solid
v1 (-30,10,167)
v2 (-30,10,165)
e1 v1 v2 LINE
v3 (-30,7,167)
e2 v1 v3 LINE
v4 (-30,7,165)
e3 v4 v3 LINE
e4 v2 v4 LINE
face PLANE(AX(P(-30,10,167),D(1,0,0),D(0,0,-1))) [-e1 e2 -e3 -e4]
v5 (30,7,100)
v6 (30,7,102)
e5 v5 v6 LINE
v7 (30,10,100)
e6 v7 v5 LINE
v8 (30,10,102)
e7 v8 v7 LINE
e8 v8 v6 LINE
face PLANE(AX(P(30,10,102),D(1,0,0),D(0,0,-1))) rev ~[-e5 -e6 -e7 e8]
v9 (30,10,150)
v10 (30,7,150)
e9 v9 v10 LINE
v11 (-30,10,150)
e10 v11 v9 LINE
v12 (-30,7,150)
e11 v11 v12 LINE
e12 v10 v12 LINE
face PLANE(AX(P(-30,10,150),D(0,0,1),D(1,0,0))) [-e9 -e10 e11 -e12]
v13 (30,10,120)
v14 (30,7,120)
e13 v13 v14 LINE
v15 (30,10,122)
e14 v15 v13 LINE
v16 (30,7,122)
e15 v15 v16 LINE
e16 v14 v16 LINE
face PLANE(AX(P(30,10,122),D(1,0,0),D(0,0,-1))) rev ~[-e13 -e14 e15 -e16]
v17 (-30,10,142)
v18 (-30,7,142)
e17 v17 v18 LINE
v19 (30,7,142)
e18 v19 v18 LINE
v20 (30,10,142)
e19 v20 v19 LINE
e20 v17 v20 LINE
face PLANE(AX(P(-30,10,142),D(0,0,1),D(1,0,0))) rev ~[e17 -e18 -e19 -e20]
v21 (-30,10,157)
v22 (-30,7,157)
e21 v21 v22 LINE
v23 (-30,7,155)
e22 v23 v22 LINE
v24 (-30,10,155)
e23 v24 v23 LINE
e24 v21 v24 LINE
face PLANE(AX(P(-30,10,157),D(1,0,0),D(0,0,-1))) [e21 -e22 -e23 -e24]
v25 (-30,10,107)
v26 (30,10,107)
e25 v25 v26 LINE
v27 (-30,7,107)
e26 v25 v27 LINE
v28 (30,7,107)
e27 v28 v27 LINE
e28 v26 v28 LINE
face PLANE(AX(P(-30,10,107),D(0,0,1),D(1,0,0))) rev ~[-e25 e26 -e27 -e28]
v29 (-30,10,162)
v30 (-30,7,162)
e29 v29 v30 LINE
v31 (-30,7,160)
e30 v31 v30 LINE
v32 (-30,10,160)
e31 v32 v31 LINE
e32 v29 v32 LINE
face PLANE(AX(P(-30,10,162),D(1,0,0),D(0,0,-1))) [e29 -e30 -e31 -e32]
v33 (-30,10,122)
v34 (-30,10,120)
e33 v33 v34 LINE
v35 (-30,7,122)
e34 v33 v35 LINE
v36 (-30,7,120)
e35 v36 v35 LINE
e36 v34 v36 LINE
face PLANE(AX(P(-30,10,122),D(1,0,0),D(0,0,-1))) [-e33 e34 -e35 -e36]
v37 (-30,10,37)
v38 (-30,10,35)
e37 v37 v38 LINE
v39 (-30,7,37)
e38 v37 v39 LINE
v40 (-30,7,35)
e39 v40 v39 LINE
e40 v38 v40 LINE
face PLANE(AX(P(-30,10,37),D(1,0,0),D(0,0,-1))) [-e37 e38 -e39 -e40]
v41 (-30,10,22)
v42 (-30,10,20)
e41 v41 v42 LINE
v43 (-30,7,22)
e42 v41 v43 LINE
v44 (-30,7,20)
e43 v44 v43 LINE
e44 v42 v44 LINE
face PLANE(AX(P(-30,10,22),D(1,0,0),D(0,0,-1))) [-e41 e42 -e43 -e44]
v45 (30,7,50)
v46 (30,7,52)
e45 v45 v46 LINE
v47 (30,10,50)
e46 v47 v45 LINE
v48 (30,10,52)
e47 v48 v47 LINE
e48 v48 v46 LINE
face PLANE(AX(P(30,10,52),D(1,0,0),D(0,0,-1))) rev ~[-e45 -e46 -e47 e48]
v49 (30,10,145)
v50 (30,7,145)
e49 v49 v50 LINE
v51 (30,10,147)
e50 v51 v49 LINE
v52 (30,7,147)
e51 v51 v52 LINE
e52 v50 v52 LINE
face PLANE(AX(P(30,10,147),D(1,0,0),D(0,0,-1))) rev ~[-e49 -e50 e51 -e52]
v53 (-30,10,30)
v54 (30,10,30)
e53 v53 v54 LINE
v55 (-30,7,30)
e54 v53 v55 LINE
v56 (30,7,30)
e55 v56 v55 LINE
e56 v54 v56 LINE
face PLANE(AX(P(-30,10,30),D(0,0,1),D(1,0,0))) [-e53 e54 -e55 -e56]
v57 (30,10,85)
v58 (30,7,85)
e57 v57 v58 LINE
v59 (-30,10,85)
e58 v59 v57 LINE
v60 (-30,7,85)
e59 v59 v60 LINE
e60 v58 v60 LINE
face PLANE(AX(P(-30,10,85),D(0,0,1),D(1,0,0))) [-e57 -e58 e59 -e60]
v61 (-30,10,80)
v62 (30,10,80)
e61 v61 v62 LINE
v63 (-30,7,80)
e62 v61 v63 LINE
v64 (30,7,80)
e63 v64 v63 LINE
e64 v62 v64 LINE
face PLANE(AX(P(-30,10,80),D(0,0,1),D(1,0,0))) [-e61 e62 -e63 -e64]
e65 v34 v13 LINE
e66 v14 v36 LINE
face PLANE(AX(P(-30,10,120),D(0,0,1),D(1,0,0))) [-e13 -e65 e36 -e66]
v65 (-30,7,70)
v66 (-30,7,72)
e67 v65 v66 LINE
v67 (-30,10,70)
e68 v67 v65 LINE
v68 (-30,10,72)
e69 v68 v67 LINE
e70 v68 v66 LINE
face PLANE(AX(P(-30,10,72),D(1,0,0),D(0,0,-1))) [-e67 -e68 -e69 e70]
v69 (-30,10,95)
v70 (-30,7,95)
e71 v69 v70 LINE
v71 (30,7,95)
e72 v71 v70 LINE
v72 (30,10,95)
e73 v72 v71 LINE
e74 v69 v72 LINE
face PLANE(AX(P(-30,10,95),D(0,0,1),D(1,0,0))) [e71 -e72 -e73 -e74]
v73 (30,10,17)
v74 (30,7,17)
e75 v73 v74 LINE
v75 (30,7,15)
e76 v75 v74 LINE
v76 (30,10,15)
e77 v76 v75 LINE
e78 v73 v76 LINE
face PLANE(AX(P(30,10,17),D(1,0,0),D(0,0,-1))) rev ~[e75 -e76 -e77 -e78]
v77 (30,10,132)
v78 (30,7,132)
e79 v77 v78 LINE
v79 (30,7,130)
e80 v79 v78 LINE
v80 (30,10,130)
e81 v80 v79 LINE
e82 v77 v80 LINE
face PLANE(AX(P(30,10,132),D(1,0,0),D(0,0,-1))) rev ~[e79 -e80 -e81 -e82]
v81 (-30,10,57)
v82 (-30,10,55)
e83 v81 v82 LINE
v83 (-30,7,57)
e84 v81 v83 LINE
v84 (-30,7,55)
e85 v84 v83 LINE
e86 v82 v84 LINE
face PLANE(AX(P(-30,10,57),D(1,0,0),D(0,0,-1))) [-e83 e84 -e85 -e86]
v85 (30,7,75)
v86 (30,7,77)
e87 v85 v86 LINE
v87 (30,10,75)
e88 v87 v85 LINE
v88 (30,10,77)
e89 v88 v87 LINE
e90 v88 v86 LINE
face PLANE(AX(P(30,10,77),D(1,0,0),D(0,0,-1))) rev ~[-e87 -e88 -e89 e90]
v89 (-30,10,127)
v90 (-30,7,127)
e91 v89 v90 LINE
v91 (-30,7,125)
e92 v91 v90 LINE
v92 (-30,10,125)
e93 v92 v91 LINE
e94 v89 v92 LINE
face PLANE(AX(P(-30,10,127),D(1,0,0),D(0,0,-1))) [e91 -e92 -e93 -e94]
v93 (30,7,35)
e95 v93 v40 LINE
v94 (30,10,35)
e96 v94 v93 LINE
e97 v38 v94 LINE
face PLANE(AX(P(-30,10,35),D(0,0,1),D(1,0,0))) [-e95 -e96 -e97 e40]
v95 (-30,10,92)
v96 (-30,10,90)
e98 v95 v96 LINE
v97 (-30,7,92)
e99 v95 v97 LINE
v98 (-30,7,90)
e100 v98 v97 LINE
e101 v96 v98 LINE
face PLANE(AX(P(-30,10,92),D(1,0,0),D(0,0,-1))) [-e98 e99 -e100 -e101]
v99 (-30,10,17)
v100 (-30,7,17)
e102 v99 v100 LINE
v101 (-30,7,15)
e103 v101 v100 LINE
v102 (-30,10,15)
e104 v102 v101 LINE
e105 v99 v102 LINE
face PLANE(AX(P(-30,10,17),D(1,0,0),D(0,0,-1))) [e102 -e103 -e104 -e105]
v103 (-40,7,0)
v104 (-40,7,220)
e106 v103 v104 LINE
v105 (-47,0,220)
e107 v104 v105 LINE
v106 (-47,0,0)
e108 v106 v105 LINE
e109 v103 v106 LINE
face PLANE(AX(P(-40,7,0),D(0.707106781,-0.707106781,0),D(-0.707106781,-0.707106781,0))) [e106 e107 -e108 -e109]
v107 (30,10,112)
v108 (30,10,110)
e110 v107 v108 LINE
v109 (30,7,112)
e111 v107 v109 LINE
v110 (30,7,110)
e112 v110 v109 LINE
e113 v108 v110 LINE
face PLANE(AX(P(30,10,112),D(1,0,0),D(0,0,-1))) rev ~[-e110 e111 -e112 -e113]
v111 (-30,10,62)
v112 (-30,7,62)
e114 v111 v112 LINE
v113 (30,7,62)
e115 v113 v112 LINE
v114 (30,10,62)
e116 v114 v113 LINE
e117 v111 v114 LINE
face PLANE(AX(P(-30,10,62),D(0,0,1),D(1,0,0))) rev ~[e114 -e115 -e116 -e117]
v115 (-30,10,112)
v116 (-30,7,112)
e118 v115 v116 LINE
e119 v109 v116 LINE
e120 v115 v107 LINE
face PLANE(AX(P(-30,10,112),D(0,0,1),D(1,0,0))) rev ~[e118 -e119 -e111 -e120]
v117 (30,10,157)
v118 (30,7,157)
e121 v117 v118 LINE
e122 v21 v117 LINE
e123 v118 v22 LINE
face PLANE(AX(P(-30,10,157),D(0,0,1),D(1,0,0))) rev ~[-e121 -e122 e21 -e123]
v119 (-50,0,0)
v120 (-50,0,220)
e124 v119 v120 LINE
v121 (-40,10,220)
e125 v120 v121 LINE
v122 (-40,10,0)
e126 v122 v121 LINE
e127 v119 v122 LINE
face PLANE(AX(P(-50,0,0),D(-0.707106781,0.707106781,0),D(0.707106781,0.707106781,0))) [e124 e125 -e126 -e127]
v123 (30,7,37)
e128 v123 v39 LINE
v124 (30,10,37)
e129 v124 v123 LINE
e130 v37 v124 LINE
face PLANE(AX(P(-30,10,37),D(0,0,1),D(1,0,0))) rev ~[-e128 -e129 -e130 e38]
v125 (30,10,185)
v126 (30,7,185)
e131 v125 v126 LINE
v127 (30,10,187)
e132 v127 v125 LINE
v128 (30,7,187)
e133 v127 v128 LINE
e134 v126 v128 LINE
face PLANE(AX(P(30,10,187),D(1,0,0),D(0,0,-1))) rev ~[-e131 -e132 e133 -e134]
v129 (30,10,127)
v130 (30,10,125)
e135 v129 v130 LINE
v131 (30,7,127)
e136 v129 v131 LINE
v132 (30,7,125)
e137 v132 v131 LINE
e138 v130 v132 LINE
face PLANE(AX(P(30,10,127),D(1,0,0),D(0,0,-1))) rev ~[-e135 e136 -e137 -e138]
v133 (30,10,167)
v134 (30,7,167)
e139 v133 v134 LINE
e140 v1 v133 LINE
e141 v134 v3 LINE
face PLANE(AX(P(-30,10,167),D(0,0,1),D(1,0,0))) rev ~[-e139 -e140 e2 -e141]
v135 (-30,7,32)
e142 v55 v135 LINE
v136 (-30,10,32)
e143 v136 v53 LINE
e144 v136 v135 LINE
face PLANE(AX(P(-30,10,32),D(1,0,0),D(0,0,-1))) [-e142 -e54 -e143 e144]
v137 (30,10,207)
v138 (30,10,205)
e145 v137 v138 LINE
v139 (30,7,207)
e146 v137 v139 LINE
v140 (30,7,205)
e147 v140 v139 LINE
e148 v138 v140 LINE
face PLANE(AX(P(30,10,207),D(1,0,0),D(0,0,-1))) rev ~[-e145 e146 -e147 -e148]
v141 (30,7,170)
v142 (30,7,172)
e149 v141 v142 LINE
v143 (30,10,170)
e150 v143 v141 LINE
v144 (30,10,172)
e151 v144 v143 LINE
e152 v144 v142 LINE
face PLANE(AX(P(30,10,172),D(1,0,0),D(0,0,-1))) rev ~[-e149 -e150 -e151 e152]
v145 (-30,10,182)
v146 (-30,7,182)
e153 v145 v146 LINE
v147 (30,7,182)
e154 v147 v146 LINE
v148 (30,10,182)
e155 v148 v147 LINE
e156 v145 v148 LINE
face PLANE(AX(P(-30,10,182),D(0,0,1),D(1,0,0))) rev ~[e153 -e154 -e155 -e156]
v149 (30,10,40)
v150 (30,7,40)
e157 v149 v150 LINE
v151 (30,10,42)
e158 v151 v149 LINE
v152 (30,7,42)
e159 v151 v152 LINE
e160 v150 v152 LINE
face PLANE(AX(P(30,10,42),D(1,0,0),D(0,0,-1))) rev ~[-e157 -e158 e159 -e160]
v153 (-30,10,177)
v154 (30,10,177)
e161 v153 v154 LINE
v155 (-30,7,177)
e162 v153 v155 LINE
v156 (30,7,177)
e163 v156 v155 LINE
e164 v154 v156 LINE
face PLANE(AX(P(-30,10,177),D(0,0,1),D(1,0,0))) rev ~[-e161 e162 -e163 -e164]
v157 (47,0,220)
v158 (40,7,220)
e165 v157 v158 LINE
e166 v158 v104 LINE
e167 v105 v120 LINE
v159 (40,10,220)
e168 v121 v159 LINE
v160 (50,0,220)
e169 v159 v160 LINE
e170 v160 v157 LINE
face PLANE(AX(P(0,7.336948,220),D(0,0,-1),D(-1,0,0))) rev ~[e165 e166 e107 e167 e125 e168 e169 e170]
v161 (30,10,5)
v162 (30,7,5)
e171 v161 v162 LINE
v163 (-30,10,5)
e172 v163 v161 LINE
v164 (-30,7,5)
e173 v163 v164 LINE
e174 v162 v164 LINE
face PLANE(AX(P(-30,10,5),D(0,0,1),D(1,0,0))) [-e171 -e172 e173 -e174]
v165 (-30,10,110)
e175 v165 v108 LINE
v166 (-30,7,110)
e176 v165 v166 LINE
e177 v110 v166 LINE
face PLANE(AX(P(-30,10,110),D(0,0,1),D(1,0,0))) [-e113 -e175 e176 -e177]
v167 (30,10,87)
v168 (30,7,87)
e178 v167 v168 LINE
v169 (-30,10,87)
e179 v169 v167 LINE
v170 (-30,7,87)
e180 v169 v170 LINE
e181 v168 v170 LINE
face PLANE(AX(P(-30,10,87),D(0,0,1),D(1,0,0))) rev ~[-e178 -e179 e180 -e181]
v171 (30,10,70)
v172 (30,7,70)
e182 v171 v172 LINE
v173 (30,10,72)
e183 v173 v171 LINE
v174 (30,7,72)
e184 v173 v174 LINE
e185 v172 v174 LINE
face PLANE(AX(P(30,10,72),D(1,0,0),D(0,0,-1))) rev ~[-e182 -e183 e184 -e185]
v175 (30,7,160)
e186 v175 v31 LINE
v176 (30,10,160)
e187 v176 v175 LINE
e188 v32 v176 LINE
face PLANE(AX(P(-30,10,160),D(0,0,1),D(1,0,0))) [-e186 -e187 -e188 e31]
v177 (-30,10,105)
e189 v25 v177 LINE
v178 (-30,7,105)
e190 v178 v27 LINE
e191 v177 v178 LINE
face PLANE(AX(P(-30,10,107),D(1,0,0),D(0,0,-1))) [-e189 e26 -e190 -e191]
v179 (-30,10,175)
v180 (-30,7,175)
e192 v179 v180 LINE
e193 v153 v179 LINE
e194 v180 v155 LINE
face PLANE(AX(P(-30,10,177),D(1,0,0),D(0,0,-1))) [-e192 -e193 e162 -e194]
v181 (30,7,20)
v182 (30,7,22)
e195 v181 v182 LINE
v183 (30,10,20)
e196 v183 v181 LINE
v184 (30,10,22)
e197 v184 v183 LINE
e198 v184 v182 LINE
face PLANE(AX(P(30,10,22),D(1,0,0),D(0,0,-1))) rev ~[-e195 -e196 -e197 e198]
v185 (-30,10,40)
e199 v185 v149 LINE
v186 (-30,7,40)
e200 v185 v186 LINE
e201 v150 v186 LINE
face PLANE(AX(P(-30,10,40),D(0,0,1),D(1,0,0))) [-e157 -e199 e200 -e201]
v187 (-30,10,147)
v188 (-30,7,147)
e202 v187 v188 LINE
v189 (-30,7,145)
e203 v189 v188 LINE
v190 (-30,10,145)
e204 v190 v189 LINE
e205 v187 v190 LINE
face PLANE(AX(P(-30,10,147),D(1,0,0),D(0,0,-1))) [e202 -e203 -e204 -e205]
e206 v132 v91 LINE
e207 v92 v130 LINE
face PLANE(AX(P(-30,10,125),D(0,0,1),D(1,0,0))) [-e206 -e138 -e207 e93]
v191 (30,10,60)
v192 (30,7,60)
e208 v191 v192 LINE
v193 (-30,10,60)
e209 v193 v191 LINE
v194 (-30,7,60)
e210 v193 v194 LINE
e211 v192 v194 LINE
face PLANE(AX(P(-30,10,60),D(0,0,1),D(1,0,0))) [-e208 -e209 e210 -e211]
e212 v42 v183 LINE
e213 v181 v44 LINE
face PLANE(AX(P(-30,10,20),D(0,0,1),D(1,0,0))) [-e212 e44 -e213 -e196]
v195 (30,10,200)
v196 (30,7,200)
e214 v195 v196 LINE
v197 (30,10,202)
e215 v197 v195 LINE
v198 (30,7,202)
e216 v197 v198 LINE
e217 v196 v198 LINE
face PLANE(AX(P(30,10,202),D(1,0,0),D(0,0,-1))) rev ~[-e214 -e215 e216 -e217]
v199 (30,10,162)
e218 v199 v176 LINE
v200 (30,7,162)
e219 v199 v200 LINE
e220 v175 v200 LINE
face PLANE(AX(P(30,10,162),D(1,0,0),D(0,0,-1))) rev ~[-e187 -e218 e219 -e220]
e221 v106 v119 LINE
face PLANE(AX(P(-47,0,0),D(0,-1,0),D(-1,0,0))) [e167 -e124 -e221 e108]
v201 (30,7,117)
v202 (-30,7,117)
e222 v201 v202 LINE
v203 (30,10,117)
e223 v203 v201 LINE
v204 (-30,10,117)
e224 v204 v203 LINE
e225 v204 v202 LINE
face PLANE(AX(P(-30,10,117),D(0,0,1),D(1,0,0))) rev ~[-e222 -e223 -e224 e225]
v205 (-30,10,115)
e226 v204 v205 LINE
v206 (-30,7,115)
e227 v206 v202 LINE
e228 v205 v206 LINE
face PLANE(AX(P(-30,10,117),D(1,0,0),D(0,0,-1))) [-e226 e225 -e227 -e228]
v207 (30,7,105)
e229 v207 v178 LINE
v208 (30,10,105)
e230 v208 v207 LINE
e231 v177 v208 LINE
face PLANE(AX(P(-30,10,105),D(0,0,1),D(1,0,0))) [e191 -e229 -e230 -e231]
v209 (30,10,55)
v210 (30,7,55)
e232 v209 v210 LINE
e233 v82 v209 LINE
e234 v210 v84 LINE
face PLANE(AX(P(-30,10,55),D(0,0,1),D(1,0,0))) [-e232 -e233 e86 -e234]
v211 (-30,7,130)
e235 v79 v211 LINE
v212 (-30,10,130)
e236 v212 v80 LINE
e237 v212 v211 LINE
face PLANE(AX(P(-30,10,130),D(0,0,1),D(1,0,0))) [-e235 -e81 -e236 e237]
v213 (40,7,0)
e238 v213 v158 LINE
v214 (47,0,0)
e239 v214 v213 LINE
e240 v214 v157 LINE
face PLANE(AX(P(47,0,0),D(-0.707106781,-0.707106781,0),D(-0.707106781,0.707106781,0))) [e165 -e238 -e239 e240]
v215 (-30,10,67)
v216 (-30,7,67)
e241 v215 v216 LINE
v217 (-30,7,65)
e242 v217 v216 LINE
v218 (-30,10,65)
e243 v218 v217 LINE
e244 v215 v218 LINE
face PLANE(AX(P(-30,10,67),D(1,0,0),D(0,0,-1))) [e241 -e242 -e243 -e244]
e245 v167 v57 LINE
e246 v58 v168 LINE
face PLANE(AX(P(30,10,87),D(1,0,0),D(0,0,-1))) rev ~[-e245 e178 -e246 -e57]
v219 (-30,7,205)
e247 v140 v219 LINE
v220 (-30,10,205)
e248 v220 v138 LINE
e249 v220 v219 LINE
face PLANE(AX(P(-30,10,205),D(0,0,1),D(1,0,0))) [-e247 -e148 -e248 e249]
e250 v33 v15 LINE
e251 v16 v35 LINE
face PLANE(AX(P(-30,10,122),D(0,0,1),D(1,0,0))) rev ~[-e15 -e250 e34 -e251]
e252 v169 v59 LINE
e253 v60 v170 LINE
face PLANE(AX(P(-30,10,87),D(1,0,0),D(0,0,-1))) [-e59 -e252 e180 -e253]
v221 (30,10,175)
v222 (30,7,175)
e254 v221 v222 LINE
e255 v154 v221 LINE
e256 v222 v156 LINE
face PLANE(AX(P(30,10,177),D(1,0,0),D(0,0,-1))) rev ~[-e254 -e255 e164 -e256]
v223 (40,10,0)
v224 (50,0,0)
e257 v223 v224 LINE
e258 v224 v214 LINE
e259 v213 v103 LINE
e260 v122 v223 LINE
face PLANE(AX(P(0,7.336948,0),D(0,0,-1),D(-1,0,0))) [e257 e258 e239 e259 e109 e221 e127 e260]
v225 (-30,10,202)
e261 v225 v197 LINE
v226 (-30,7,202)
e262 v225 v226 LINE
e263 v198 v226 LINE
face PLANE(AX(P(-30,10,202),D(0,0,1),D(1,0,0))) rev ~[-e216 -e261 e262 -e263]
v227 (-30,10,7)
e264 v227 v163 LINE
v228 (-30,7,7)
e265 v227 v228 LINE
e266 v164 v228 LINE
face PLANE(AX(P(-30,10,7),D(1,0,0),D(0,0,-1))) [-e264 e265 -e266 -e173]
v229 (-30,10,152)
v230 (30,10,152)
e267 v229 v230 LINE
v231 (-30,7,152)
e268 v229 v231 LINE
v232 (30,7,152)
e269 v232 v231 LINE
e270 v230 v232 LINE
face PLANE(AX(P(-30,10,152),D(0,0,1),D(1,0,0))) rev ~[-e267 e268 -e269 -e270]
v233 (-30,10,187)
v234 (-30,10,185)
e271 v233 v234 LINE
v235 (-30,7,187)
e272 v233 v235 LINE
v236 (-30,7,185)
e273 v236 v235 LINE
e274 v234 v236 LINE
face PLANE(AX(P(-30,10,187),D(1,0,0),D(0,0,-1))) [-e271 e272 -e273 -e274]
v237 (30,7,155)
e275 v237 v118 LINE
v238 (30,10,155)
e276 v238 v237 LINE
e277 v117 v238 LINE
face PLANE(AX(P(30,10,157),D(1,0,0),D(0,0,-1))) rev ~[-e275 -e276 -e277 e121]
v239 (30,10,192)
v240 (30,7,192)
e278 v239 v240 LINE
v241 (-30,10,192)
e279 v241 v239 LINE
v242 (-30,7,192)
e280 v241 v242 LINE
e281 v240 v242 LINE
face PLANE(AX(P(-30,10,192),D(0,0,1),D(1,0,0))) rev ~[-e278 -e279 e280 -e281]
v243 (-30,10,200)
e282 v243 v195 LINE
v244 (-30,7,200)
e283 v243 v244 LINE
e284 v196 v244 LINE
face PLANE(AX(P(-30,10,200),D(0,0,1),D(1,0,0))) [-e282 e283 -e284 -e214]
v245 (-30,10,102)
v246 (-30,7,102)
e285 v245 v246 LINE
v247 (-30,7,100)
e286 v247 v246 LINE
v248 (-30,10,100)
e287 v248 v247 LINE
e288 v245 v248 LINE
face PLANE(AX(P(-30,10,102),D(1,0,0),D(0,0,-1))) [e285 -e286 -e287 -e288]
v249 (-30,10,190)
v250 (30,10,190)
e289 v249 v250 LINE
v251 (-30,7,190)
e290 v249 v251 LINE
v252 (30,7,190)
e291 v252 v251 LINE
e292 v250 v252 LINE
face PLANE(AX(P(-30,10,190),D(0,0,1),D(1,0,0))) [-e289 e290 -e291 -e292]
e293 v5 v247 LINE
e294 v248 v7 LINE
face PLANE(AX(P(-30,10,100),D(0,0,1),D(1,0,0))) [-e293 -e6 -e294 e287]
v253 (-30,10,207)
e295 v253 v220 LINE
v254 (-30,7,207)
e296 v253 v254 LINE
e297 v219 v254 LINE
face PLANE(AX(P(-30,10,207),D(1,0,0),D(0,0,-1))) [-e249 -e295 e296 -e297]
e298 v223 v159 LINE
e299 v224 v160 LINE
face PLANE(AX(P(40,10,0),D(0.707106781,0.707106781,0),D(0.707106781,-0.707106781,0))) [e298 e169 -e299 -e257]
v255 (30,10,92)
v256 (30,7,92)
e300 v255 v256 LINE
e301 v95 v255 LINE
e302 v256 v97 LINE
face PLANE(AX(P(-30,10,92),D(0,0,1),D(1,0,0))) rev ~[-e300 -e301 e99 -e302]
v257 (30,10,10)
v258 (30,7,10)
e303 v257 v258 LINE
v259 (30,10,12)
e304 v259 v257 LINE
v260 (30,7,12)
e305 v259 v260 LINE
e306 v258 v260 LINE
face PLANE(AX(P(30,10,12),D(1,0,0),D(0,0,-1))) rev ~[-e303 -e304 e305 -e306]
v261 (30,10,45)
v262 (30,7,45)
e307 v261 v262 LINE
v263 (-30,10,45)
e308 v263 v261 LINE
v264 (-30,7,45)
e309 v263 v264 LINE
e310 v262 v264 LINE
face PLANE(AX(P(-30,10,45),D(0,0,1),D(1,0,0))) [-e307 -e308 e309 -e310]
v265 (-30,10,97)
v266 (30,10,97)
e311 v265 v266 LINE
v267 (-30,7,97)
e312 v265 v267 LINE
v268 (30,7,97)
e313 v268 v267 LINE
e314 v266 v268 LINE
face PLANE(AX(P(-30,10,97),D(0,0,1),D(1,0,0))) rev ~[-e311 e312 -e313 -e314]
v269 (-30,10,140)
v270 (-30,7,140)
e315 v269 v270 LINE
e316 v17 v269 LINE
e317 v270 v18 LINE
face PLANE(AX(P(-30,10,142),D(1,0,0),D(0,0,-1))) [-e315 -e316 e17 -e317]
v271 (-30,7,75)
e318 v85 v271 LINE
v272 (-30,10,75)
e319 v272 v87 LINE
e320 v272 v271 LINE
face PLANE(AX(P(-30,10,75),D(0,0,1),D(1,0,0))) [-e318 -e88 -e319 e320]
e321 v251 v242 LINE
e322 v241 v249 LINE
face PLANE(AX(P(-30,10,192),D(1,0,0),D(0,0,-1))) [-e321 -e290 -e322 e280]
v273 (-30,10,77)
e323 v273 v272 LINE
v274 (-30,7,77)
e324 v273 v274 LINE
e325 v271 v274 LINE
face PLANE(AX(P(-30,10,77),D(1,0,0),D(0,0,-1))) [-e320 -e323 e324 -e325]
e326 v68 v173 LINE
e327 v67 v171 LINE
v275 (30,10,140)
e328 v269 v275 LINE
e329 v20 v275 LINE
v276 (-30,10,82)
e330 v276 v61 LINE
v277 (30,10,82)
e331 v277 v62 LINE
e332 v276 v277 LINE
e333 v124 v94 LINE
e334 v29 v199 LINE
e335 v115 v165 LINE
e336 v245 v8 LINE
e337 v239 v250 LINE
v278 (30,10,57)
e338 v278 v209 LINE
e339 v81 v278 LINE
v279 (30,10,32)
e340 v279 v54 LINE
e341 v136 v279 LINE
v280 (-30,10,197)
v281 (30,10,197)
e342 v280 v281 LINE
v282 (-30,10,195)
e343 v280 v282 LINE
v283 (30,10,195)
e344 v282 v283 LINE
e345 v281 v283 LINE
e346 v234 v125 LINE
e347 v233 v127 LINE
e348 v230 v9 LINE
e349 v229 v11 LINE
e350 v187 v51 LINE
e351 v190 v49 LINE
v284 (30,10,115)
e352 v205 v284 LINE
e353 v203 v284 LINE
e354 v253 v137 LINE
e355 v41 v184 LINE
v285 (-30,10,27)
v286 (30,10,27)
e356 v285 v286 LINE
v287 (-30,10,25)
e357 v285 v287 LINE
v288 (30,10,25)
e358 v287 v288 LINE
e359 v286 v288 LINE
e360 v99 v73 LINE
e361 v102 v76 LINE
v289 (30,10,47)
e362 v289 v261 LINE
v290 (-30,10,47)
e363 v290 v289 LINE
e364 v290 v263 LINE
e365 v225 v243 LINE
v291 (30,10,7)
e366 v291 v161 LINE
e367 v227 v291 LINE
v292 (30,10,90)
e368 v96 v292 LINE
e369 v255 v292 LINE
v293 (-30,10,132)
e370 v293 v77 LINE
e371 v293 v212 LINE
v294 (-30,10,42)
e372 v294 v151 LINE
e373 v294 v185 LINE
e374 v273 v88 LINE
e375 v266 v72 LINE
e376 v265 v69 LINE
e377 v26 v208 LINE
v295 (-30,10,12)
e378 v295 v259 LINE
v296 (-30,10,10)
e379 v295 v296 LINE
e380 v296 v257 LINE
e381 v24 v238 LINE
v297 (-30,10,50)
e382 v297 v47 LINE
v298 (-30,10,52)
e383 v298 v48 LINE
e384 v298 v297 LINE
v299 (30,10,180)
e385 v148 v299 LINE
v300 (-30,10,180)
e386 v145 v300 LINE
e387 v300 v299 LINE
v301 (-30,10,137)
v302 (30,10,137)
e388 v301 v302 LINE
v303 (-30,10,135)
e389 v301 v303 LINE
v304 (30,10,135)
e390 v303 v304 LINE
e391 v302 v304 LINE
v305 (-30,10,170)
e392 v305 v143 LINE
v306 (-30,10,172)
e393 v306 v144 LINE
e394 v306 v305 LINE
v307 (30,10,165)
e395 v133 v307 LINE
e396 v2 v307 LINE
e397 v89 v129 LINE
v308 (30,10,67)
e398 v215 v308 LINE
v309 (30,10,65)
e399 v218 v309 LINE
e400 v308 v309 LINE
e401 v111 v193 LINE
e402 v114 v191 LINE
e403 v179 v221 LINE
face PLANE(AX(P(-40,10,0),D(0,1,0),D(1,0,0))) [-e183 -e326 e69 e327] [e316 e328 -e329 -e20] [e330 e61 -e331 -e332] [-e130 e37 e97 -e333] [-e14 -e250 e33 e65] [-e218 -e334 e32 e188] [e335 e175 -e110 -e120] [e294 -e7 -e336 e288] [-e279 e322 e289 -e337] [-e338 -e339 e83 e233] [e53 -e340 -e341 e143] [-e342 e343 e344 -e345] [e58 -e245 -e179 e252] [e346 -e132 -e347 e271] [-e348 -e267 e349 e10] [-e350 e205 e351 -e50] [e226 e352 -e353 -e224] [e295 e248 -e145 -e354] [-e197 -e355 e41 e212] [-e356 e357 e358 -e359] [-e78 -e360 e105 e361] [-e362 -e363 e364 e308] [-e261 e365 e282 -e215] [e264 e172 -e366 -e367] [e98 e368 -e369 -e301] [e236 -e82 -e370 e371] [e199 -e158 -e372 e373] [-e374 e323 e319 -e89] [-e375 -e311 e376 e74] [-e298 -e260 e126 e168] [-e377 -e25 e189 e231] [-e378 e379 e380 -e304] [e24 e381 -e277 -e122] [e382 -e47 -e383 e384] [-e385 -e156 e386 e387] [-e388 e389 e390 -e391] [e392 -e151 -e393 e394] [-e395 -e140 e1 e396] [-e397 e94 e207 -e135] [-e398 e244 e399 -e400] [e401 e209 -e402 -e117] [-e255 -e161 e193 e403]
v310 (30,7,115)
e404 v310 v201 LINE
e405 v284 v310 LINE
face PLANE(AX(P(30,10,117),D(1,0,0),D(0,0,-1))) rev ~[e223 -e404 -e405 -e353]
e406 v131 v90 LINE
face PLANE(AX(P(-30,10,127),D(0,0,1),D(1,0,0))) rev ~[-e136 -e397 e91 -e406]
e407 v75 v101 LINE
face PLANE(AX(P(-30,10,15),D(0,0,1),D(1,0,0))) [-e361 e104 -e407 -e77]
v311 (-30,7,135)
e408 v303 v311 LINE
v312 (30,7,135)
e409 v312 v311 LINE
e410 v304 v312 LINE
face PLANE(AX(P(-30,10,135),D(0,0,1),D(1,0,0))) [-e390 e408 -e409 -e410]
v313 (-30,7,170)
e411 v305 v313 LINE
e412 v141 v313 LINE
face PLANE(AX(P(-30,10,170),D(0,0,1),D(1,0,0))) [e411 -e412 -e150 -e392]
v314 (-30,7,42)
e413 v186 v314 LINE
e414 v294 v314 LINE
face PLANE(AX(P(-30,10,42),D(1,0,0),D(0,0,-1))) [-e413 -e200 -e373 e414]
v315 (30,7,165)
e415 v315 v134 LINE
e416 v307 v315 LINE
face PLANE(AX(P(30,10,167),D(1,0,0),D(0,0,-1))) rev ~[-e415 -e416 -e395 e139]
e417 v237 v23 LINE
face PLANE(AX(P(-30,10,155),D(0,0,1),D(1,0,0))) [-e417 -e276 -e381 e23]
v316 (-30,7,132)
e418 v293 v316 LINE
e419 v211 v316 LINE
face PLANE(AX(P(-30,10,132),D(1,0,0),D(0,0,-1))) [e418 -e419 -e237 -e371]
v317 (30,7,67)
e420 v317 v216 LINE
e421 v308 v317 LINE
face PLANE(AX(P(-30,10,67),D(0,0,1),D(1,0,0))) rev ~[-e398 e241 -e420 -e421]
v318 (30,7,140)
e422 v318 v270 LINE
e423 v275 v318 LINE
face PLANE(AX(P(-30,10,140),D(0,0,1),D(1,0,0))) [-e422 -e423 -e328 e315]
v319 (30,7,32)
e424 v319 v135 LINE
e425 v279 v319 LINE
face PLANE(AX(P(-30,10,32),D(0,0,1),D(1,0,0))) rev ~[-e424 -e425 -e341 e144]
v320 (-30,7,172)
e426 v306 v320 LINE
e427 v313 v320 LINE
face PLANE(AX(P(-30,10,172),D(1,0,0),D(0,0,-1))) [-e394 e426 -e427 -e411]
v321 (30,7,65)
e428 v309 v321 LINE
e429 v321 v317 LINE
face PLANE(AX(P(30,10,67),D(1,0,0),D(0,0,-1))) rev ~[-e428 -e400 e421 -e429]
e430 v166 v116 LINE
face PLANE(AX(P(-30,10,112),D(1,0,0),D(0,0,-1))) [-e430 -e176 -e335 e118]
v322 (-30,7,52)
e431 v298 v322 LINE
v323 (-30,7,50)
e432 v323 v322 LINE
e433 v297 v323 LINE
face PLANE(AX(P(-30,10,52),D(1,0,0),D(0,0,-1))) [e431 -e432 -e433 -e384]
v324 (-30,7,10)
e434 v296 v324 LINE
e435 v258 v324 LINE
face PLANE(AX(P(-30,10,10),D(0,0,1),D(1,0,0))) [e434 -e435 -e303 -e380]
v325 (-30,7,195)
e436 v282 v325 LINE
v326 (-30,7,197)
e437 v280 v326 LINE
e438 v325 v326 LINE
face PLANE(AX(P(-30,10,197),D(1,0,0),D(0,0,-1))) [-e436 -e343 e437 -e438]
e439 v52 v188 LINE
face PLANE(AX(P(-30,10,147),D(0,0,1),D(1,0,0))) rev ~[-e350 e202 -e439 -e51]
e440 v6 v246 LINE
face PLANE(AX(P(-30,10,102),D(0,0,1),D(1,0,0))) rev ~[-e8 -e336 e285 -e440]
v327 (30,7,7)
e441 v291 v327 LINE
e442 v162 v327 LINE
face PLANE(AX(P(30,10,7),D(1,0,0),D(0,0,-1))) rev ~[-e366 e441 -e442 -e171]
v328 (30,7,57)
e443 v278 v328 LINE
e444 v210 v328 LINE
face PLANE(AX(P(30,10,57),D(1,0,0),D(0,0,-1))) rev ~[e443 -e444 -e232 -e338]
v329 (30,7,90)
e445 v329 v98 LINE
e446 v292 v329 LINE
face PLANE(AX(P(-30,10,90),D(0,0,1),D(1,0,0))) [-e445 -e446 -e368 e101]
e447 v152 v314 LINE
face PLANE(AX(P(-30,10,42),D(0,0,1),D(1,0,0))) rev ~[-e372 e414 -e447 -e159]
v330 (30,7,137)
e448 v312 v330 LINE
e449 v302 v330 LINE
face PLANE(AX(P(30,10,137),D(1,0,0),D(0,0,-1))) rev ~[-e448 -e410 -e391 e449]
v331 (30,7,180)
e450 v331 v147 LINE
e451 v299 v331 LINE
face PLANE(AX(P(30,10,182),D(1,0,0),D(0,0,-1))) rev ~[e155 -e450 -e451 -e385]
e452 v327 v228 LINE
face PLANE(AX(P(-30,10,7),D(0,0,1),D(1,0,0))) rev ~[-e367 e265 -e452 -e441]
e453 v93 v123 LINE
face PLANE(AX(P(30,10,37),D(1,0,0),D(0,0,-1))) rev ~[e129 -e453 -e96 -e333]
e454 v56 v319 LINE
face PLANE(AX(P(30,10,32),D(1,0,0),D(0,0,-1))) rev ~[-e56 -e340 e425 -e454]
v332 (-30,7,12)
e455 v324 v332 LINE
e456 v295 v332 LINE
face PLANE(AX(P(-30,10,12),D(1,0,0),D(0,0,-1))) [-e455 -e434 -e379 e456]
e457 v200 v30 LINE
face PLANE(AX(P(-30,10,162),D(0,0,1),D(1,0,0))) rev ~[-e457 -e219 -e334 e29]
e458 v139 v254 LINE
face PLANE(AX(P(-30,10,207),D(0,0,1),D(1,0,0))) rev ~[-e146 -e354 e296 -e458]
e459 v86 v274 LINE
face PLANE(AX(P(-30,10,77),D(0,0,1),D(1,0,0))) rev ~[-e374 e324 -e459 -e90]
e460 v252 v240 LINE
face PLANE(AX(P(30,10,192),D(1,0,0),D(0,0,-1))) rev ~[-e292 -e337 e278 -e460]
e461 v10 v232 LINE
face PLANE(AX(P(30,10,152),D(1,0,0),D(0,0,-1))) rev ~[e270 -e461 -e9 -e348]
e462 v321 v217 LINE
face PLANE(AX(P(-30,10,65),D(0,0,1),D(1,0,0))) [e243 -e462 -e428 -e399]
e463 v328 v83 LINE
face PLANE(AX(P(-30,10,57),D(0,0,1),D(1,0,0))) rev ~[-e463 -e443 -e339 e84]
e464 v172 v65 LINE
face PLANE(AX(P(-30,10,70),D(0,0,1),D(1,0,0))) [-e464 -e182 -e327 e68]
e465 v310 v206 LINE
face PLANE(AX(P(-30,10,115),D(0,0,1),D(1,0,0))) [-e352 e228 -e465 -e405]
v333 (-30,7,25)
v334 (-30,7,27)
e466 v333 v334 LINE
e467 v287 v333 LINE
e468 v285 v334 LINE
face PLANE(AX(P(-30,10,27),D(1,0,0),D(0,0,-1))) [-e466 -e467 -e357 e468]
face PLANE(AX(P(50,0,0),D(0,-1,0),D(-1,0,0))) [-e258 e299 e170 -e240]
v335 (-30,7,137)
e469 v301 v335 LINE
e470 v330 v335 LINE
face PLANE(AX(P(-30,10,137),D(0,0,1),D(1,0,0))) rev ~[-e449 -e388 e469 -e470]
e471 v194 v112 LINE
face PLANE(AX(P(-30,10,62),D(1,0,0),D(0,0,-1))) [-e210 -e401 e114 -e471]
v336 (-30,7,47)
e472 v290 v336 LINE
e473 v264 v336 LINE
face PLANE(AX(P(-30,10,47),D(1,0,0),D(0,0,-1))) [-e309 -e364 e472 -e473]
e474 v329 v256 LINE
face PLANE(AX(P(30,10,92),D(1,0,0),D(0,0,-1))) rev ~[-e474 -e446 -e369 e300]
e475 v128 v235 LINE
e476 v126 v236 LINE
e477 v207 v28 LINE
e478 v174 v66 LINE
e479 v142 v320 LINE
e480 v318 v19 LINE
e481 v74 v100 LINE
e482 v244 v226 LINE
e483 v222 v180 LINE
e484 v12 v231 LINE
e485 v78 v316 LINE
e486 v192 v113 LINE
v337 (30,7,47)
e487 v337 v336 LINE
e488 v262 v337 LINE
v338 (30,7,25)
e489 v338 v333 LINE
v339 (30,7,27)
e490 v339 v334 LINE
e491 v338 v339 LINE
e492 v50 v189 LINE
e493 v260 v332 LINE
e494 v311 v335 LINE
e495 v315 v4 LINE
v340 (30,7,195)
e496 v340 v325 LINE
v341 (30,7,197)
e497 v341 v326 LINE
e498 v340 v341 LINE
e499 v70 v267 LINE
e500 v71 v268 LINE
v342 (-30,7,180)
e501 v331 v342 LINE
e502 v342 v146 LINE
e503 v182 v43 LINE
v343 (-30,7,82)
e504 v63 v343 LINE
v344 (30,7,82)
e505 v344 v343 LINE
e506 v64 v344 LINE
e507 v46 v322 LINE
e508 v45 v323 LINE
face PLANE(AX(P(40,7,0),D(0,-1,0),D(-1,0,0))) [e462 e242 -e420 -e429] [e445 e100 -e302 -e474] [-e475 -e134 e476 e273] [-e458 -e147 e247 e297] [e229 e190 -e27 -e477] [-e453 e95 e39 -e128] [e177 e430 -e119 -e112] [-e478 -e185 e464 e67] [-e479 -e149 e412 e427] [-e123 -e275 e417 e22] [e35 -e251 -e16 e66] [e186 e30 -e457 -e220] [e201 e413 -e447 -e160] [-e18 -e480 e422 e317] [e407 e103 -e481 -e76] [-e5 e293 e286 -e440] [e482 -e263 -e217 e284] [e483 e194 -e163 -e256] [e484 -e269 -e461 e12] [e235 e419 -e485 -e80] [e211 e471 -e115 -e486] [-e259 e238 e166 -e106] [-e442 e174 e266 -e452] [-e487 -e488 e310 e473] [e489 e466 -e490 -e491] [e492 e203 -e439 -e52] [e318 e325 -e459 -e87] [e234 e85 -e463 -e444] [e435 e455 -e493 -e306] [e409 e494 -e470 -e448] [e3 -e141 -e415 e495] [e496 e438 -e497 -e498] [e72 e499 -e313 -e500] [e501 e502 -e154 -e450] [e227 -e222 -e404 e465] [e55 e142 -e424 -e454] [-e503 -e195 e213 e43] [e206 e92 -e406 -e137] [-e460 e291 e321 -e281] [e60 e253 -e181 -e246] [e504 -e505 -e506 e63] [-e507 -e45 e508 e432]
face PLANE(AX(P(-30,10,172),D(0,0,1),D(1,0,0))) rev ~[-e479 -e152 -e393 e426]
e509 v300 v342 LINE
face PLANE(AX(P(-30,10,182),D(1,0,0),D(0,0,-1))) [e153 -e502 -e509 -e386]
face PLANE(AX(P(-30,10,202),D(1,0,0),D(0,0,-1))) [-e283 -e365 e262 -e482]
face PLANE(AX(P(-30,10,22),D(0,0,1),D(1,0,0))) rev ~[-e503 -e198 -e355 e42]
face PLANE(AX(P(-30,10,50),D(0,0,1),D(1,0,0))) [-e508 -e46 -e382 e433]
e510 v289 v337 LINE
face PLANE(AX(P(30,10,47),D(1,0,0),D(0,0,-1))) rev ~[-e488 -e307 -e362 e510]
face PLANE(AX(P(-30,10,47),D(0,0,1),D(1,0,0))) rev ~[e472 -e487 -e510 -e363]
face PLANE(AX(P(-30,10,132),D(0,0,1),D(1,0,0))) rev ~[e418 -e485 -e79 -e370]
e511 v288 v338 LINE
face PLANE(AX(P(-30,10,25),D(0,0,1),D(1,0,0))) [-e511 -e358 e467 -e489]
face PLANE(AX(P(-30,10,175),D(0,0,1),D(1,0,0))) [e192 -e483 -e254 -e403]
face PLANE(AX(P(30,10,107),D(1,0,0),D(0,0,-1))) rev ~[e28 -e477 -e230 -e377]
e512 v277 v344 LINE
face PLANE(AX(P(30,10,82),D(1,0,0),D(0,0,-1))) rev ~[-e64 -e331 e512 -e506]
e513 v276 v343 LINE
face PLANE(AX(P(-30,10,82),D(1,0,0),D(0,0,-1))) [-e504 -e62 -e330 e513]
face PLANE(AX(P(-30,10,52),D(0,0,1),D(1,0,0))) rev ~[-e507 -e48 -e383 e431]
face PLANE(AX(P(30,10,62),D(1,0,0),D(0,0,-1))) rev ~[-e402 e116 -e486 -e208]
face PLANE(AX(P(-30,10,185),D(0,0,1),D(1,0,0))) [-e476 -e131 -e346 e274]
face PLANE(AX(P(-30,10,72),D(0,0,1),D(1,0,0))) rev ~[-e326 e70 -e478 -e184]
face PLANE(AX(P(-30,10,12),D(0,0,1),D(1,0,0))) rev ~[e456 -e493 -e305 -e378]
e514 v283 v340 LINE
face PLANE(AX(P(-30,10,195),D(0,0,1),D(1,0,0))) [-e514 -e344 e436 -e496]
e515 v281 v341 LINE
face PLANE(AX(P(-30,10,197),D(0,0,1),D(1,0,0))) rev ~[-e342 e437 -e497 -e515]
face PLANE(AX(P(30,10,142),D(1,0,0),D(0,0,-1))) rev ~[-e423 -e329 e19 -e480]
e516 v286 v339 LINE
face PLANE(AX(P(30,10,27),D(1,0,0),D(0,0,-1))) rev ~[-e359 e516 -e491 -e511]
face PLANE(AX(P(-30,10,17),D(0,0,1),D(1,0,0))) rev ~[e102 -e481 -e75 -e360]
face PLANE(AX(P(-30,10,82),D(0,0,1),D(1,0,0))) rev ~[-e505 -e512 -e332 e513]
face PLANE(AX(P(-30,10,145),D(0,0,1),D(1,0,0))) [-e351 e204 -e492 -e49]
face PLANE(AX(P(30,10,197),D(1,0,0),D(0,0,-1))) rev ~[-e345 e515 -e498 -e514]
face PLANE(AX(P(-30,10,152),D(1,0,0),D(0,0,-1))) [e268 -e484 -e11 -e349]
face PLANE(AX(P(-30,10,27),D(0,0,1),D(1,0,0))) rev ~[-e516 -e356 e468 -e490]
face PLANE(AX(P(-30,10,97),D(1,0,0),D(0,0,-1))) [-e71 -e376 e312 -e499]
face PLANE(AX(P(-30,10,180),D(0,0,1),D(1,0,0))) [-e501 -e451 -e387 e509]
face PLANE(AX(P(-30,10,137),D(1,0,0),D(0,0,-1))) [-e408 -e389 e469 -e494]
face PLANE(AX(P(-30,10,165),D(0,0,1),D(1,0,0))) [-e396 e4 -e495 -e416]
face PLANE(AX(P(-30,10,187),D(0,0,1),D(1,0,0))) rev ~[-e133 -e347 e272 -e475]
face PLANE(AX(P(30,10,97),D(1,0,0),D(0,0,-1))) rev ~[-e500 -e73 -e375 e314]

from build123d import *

# Parameters (mm, degrees)
SALIENTE_EXTRUIR1_DEPTH = 220
CROQUIS2_W              = 60
CROQUIS2_H              = 2
CORTAR_EXTRUIR1_DEPTH   = 10


with BuildPart() as part:
    # Croquis1 → Saliente-Extruir1 (new body)
    with BuildSketch(Plane.XY):
        Polygon((-47, 0), (-50, 0), (-40, 10), (40, 10), (50, 0), (47, 0), (40, 7), (-40, 7), align=None)
    extrude(amount=SALIENTE_EXTRUIR1_DEPTH)

    # Croquis2 → Cortar-Extruir1 (cut)
    with BuildSketch(Plane(origin=(0, 10, 0), x_dir=(1, 0, 0), z_dir=(0, 1, 0))):
        with Locations((0, -6)):
            Rectangle(CROQUIS2_W, CROQUIS2_H)
        with Locations((0, -11)):
            Rectangle(CROQUIS2_W, CROQUIS2_H)
        with Locations((0, -16)):
            Rectangle(CROQUIS2_W, CROQUIS2_H)
        with Locations((0, -21)):
            Rectangle(CROQUIS2_W, CROQUIS2_H)
        with Locations((0, -26)):
            Rectangle(CROQUIS2_W, CROQUIS2_H)
        with Locations((0, -31)):
            Rectangle(CROQUIS2_W, CROQUIS2_H)
        with Locations((0, -36)):
            Rectangle(CROQUIS2_W, CROQUIS2_H)
        with Locations((0, -41)):
            Rectangle(CROQUIS2_W, CROQUIS2_H)
        with Locations((0, -46)):
            Rectangle(CROQUIS2_W, CROQUIS2_H)
        with Locations((0, -51)):
            Rectangle(CROQUIS2_W, CROQUIS2_H)
        with Locations((0, -56)):
            Rectangle(CROQUIS2_W, CROQUIS2_H)
        with Locations((0, -61)):
            Rectangle(CROQUIS2_W, CROQUIS2_H)
        with Locations((0, -66)):
            Rectangle(CROQUIS2_W, CROQUIS2_H)
        with Locations((0, -71)):
            Rectangle(CROQUIS2_W, CROQUIS2_H)
        with Locations((0, -76)):
            Rectangle(CROQUIS2_W, CROQUIS2_H)
        with Locations((0, -81)):
            Rectangle(CROQUIS2_W, CROQUIS2_H)
        with Locations((0, -86)):
            Rectangle(CROQUIS2_W, CROQUIS2_H)
        with Locations((0, -91)):
            Rectangle(CROQUIS2_W, CROQUIS2_H)
        with Locations((0, -96)):
            Rectangle(CROQUIS2_W, CROQUIS2_H)
        with Locations((0, -101)):
            Rectangle(CROQUIS2_W, CROQUIS2_H)
        with Locations((0, -106)):
            Rectangle(CROQUIS2_W, CROQUIS2_H)
        with Locations((0, -111)):
            Rectangle(CROQUIS2_W, CROQUIS2_H)
        with Locations((0, -116)):
            Rectangle(CROQUIS2_W, CROQUIS2_H)
        with Locations((0, -121)):
            Rectangle(CROQUIS2_W, CROQUIS2_H)
        with Locations((0, -126)):
            Rectangle(CROQUIS2_W, CROQUIS2_H)
        with Locations((0, -131)):
            Rectangle(CROQUIS2_W, CROQUIS2_H)
        with Locations((0, -136)):
            Rectangle(CROQUIS2_W, CROQUIS2_H)
        with Locations((0, -141)):
            Rectangle(CROQUIS2_W, CROQUIS2_H)
        with Locations((0, -146)):
            Rectangle(CROQUIS2_W, CROQUIS2_H)
        with Locations((0, -151)):
            Rectangle(CROQUIS2_W, CROQUIS2_H)
        with Locations((0, -156)):
            Rectangle(CROQUIS2_W, CROQUIS2_H)
        with Locations((0, -161)):
            Rectangle(CROQUIS2_W, CROQUIS2_H)
        with Locations((0, -166)):
            Rectangle(CROQUIS2_W, CROQUIS2_H)
        with Locations((0, -171)):
            Rectangle(CROQUIS2_W, CROQUIS2_H)
        with Locations((0, -176)):
            Rectangle(CROQUIS2_W, CROQUIS2_H)
        with Locations((0, -181)):
            Rectangle(CROQUIS2_W, CROQUIS2_H)
        with Locations((0, -186)):
            Rectangle(CROQUIS2_W, CROQUIS2_H)
        with Locations((0, -191)):
            Rectangle(CROQUIS2_W, CROQUIS2_H)
        with Locations((0, -196)):
            Rectangle(CROQUIS2_W, CROQUIS2_H)
        with Locations((0, -201)):
            Rectangle(CROQUIS2_W, CROQUIS2_H)
        with Locations((0, -206)):
            Rectangle(CROQUIS2_W, CROQUIS2_H)
    extrude(amount=-CORTAR_EXTRUIR1_DEPTH, mode=Mode.SUBTRACT)


solid = part.part
